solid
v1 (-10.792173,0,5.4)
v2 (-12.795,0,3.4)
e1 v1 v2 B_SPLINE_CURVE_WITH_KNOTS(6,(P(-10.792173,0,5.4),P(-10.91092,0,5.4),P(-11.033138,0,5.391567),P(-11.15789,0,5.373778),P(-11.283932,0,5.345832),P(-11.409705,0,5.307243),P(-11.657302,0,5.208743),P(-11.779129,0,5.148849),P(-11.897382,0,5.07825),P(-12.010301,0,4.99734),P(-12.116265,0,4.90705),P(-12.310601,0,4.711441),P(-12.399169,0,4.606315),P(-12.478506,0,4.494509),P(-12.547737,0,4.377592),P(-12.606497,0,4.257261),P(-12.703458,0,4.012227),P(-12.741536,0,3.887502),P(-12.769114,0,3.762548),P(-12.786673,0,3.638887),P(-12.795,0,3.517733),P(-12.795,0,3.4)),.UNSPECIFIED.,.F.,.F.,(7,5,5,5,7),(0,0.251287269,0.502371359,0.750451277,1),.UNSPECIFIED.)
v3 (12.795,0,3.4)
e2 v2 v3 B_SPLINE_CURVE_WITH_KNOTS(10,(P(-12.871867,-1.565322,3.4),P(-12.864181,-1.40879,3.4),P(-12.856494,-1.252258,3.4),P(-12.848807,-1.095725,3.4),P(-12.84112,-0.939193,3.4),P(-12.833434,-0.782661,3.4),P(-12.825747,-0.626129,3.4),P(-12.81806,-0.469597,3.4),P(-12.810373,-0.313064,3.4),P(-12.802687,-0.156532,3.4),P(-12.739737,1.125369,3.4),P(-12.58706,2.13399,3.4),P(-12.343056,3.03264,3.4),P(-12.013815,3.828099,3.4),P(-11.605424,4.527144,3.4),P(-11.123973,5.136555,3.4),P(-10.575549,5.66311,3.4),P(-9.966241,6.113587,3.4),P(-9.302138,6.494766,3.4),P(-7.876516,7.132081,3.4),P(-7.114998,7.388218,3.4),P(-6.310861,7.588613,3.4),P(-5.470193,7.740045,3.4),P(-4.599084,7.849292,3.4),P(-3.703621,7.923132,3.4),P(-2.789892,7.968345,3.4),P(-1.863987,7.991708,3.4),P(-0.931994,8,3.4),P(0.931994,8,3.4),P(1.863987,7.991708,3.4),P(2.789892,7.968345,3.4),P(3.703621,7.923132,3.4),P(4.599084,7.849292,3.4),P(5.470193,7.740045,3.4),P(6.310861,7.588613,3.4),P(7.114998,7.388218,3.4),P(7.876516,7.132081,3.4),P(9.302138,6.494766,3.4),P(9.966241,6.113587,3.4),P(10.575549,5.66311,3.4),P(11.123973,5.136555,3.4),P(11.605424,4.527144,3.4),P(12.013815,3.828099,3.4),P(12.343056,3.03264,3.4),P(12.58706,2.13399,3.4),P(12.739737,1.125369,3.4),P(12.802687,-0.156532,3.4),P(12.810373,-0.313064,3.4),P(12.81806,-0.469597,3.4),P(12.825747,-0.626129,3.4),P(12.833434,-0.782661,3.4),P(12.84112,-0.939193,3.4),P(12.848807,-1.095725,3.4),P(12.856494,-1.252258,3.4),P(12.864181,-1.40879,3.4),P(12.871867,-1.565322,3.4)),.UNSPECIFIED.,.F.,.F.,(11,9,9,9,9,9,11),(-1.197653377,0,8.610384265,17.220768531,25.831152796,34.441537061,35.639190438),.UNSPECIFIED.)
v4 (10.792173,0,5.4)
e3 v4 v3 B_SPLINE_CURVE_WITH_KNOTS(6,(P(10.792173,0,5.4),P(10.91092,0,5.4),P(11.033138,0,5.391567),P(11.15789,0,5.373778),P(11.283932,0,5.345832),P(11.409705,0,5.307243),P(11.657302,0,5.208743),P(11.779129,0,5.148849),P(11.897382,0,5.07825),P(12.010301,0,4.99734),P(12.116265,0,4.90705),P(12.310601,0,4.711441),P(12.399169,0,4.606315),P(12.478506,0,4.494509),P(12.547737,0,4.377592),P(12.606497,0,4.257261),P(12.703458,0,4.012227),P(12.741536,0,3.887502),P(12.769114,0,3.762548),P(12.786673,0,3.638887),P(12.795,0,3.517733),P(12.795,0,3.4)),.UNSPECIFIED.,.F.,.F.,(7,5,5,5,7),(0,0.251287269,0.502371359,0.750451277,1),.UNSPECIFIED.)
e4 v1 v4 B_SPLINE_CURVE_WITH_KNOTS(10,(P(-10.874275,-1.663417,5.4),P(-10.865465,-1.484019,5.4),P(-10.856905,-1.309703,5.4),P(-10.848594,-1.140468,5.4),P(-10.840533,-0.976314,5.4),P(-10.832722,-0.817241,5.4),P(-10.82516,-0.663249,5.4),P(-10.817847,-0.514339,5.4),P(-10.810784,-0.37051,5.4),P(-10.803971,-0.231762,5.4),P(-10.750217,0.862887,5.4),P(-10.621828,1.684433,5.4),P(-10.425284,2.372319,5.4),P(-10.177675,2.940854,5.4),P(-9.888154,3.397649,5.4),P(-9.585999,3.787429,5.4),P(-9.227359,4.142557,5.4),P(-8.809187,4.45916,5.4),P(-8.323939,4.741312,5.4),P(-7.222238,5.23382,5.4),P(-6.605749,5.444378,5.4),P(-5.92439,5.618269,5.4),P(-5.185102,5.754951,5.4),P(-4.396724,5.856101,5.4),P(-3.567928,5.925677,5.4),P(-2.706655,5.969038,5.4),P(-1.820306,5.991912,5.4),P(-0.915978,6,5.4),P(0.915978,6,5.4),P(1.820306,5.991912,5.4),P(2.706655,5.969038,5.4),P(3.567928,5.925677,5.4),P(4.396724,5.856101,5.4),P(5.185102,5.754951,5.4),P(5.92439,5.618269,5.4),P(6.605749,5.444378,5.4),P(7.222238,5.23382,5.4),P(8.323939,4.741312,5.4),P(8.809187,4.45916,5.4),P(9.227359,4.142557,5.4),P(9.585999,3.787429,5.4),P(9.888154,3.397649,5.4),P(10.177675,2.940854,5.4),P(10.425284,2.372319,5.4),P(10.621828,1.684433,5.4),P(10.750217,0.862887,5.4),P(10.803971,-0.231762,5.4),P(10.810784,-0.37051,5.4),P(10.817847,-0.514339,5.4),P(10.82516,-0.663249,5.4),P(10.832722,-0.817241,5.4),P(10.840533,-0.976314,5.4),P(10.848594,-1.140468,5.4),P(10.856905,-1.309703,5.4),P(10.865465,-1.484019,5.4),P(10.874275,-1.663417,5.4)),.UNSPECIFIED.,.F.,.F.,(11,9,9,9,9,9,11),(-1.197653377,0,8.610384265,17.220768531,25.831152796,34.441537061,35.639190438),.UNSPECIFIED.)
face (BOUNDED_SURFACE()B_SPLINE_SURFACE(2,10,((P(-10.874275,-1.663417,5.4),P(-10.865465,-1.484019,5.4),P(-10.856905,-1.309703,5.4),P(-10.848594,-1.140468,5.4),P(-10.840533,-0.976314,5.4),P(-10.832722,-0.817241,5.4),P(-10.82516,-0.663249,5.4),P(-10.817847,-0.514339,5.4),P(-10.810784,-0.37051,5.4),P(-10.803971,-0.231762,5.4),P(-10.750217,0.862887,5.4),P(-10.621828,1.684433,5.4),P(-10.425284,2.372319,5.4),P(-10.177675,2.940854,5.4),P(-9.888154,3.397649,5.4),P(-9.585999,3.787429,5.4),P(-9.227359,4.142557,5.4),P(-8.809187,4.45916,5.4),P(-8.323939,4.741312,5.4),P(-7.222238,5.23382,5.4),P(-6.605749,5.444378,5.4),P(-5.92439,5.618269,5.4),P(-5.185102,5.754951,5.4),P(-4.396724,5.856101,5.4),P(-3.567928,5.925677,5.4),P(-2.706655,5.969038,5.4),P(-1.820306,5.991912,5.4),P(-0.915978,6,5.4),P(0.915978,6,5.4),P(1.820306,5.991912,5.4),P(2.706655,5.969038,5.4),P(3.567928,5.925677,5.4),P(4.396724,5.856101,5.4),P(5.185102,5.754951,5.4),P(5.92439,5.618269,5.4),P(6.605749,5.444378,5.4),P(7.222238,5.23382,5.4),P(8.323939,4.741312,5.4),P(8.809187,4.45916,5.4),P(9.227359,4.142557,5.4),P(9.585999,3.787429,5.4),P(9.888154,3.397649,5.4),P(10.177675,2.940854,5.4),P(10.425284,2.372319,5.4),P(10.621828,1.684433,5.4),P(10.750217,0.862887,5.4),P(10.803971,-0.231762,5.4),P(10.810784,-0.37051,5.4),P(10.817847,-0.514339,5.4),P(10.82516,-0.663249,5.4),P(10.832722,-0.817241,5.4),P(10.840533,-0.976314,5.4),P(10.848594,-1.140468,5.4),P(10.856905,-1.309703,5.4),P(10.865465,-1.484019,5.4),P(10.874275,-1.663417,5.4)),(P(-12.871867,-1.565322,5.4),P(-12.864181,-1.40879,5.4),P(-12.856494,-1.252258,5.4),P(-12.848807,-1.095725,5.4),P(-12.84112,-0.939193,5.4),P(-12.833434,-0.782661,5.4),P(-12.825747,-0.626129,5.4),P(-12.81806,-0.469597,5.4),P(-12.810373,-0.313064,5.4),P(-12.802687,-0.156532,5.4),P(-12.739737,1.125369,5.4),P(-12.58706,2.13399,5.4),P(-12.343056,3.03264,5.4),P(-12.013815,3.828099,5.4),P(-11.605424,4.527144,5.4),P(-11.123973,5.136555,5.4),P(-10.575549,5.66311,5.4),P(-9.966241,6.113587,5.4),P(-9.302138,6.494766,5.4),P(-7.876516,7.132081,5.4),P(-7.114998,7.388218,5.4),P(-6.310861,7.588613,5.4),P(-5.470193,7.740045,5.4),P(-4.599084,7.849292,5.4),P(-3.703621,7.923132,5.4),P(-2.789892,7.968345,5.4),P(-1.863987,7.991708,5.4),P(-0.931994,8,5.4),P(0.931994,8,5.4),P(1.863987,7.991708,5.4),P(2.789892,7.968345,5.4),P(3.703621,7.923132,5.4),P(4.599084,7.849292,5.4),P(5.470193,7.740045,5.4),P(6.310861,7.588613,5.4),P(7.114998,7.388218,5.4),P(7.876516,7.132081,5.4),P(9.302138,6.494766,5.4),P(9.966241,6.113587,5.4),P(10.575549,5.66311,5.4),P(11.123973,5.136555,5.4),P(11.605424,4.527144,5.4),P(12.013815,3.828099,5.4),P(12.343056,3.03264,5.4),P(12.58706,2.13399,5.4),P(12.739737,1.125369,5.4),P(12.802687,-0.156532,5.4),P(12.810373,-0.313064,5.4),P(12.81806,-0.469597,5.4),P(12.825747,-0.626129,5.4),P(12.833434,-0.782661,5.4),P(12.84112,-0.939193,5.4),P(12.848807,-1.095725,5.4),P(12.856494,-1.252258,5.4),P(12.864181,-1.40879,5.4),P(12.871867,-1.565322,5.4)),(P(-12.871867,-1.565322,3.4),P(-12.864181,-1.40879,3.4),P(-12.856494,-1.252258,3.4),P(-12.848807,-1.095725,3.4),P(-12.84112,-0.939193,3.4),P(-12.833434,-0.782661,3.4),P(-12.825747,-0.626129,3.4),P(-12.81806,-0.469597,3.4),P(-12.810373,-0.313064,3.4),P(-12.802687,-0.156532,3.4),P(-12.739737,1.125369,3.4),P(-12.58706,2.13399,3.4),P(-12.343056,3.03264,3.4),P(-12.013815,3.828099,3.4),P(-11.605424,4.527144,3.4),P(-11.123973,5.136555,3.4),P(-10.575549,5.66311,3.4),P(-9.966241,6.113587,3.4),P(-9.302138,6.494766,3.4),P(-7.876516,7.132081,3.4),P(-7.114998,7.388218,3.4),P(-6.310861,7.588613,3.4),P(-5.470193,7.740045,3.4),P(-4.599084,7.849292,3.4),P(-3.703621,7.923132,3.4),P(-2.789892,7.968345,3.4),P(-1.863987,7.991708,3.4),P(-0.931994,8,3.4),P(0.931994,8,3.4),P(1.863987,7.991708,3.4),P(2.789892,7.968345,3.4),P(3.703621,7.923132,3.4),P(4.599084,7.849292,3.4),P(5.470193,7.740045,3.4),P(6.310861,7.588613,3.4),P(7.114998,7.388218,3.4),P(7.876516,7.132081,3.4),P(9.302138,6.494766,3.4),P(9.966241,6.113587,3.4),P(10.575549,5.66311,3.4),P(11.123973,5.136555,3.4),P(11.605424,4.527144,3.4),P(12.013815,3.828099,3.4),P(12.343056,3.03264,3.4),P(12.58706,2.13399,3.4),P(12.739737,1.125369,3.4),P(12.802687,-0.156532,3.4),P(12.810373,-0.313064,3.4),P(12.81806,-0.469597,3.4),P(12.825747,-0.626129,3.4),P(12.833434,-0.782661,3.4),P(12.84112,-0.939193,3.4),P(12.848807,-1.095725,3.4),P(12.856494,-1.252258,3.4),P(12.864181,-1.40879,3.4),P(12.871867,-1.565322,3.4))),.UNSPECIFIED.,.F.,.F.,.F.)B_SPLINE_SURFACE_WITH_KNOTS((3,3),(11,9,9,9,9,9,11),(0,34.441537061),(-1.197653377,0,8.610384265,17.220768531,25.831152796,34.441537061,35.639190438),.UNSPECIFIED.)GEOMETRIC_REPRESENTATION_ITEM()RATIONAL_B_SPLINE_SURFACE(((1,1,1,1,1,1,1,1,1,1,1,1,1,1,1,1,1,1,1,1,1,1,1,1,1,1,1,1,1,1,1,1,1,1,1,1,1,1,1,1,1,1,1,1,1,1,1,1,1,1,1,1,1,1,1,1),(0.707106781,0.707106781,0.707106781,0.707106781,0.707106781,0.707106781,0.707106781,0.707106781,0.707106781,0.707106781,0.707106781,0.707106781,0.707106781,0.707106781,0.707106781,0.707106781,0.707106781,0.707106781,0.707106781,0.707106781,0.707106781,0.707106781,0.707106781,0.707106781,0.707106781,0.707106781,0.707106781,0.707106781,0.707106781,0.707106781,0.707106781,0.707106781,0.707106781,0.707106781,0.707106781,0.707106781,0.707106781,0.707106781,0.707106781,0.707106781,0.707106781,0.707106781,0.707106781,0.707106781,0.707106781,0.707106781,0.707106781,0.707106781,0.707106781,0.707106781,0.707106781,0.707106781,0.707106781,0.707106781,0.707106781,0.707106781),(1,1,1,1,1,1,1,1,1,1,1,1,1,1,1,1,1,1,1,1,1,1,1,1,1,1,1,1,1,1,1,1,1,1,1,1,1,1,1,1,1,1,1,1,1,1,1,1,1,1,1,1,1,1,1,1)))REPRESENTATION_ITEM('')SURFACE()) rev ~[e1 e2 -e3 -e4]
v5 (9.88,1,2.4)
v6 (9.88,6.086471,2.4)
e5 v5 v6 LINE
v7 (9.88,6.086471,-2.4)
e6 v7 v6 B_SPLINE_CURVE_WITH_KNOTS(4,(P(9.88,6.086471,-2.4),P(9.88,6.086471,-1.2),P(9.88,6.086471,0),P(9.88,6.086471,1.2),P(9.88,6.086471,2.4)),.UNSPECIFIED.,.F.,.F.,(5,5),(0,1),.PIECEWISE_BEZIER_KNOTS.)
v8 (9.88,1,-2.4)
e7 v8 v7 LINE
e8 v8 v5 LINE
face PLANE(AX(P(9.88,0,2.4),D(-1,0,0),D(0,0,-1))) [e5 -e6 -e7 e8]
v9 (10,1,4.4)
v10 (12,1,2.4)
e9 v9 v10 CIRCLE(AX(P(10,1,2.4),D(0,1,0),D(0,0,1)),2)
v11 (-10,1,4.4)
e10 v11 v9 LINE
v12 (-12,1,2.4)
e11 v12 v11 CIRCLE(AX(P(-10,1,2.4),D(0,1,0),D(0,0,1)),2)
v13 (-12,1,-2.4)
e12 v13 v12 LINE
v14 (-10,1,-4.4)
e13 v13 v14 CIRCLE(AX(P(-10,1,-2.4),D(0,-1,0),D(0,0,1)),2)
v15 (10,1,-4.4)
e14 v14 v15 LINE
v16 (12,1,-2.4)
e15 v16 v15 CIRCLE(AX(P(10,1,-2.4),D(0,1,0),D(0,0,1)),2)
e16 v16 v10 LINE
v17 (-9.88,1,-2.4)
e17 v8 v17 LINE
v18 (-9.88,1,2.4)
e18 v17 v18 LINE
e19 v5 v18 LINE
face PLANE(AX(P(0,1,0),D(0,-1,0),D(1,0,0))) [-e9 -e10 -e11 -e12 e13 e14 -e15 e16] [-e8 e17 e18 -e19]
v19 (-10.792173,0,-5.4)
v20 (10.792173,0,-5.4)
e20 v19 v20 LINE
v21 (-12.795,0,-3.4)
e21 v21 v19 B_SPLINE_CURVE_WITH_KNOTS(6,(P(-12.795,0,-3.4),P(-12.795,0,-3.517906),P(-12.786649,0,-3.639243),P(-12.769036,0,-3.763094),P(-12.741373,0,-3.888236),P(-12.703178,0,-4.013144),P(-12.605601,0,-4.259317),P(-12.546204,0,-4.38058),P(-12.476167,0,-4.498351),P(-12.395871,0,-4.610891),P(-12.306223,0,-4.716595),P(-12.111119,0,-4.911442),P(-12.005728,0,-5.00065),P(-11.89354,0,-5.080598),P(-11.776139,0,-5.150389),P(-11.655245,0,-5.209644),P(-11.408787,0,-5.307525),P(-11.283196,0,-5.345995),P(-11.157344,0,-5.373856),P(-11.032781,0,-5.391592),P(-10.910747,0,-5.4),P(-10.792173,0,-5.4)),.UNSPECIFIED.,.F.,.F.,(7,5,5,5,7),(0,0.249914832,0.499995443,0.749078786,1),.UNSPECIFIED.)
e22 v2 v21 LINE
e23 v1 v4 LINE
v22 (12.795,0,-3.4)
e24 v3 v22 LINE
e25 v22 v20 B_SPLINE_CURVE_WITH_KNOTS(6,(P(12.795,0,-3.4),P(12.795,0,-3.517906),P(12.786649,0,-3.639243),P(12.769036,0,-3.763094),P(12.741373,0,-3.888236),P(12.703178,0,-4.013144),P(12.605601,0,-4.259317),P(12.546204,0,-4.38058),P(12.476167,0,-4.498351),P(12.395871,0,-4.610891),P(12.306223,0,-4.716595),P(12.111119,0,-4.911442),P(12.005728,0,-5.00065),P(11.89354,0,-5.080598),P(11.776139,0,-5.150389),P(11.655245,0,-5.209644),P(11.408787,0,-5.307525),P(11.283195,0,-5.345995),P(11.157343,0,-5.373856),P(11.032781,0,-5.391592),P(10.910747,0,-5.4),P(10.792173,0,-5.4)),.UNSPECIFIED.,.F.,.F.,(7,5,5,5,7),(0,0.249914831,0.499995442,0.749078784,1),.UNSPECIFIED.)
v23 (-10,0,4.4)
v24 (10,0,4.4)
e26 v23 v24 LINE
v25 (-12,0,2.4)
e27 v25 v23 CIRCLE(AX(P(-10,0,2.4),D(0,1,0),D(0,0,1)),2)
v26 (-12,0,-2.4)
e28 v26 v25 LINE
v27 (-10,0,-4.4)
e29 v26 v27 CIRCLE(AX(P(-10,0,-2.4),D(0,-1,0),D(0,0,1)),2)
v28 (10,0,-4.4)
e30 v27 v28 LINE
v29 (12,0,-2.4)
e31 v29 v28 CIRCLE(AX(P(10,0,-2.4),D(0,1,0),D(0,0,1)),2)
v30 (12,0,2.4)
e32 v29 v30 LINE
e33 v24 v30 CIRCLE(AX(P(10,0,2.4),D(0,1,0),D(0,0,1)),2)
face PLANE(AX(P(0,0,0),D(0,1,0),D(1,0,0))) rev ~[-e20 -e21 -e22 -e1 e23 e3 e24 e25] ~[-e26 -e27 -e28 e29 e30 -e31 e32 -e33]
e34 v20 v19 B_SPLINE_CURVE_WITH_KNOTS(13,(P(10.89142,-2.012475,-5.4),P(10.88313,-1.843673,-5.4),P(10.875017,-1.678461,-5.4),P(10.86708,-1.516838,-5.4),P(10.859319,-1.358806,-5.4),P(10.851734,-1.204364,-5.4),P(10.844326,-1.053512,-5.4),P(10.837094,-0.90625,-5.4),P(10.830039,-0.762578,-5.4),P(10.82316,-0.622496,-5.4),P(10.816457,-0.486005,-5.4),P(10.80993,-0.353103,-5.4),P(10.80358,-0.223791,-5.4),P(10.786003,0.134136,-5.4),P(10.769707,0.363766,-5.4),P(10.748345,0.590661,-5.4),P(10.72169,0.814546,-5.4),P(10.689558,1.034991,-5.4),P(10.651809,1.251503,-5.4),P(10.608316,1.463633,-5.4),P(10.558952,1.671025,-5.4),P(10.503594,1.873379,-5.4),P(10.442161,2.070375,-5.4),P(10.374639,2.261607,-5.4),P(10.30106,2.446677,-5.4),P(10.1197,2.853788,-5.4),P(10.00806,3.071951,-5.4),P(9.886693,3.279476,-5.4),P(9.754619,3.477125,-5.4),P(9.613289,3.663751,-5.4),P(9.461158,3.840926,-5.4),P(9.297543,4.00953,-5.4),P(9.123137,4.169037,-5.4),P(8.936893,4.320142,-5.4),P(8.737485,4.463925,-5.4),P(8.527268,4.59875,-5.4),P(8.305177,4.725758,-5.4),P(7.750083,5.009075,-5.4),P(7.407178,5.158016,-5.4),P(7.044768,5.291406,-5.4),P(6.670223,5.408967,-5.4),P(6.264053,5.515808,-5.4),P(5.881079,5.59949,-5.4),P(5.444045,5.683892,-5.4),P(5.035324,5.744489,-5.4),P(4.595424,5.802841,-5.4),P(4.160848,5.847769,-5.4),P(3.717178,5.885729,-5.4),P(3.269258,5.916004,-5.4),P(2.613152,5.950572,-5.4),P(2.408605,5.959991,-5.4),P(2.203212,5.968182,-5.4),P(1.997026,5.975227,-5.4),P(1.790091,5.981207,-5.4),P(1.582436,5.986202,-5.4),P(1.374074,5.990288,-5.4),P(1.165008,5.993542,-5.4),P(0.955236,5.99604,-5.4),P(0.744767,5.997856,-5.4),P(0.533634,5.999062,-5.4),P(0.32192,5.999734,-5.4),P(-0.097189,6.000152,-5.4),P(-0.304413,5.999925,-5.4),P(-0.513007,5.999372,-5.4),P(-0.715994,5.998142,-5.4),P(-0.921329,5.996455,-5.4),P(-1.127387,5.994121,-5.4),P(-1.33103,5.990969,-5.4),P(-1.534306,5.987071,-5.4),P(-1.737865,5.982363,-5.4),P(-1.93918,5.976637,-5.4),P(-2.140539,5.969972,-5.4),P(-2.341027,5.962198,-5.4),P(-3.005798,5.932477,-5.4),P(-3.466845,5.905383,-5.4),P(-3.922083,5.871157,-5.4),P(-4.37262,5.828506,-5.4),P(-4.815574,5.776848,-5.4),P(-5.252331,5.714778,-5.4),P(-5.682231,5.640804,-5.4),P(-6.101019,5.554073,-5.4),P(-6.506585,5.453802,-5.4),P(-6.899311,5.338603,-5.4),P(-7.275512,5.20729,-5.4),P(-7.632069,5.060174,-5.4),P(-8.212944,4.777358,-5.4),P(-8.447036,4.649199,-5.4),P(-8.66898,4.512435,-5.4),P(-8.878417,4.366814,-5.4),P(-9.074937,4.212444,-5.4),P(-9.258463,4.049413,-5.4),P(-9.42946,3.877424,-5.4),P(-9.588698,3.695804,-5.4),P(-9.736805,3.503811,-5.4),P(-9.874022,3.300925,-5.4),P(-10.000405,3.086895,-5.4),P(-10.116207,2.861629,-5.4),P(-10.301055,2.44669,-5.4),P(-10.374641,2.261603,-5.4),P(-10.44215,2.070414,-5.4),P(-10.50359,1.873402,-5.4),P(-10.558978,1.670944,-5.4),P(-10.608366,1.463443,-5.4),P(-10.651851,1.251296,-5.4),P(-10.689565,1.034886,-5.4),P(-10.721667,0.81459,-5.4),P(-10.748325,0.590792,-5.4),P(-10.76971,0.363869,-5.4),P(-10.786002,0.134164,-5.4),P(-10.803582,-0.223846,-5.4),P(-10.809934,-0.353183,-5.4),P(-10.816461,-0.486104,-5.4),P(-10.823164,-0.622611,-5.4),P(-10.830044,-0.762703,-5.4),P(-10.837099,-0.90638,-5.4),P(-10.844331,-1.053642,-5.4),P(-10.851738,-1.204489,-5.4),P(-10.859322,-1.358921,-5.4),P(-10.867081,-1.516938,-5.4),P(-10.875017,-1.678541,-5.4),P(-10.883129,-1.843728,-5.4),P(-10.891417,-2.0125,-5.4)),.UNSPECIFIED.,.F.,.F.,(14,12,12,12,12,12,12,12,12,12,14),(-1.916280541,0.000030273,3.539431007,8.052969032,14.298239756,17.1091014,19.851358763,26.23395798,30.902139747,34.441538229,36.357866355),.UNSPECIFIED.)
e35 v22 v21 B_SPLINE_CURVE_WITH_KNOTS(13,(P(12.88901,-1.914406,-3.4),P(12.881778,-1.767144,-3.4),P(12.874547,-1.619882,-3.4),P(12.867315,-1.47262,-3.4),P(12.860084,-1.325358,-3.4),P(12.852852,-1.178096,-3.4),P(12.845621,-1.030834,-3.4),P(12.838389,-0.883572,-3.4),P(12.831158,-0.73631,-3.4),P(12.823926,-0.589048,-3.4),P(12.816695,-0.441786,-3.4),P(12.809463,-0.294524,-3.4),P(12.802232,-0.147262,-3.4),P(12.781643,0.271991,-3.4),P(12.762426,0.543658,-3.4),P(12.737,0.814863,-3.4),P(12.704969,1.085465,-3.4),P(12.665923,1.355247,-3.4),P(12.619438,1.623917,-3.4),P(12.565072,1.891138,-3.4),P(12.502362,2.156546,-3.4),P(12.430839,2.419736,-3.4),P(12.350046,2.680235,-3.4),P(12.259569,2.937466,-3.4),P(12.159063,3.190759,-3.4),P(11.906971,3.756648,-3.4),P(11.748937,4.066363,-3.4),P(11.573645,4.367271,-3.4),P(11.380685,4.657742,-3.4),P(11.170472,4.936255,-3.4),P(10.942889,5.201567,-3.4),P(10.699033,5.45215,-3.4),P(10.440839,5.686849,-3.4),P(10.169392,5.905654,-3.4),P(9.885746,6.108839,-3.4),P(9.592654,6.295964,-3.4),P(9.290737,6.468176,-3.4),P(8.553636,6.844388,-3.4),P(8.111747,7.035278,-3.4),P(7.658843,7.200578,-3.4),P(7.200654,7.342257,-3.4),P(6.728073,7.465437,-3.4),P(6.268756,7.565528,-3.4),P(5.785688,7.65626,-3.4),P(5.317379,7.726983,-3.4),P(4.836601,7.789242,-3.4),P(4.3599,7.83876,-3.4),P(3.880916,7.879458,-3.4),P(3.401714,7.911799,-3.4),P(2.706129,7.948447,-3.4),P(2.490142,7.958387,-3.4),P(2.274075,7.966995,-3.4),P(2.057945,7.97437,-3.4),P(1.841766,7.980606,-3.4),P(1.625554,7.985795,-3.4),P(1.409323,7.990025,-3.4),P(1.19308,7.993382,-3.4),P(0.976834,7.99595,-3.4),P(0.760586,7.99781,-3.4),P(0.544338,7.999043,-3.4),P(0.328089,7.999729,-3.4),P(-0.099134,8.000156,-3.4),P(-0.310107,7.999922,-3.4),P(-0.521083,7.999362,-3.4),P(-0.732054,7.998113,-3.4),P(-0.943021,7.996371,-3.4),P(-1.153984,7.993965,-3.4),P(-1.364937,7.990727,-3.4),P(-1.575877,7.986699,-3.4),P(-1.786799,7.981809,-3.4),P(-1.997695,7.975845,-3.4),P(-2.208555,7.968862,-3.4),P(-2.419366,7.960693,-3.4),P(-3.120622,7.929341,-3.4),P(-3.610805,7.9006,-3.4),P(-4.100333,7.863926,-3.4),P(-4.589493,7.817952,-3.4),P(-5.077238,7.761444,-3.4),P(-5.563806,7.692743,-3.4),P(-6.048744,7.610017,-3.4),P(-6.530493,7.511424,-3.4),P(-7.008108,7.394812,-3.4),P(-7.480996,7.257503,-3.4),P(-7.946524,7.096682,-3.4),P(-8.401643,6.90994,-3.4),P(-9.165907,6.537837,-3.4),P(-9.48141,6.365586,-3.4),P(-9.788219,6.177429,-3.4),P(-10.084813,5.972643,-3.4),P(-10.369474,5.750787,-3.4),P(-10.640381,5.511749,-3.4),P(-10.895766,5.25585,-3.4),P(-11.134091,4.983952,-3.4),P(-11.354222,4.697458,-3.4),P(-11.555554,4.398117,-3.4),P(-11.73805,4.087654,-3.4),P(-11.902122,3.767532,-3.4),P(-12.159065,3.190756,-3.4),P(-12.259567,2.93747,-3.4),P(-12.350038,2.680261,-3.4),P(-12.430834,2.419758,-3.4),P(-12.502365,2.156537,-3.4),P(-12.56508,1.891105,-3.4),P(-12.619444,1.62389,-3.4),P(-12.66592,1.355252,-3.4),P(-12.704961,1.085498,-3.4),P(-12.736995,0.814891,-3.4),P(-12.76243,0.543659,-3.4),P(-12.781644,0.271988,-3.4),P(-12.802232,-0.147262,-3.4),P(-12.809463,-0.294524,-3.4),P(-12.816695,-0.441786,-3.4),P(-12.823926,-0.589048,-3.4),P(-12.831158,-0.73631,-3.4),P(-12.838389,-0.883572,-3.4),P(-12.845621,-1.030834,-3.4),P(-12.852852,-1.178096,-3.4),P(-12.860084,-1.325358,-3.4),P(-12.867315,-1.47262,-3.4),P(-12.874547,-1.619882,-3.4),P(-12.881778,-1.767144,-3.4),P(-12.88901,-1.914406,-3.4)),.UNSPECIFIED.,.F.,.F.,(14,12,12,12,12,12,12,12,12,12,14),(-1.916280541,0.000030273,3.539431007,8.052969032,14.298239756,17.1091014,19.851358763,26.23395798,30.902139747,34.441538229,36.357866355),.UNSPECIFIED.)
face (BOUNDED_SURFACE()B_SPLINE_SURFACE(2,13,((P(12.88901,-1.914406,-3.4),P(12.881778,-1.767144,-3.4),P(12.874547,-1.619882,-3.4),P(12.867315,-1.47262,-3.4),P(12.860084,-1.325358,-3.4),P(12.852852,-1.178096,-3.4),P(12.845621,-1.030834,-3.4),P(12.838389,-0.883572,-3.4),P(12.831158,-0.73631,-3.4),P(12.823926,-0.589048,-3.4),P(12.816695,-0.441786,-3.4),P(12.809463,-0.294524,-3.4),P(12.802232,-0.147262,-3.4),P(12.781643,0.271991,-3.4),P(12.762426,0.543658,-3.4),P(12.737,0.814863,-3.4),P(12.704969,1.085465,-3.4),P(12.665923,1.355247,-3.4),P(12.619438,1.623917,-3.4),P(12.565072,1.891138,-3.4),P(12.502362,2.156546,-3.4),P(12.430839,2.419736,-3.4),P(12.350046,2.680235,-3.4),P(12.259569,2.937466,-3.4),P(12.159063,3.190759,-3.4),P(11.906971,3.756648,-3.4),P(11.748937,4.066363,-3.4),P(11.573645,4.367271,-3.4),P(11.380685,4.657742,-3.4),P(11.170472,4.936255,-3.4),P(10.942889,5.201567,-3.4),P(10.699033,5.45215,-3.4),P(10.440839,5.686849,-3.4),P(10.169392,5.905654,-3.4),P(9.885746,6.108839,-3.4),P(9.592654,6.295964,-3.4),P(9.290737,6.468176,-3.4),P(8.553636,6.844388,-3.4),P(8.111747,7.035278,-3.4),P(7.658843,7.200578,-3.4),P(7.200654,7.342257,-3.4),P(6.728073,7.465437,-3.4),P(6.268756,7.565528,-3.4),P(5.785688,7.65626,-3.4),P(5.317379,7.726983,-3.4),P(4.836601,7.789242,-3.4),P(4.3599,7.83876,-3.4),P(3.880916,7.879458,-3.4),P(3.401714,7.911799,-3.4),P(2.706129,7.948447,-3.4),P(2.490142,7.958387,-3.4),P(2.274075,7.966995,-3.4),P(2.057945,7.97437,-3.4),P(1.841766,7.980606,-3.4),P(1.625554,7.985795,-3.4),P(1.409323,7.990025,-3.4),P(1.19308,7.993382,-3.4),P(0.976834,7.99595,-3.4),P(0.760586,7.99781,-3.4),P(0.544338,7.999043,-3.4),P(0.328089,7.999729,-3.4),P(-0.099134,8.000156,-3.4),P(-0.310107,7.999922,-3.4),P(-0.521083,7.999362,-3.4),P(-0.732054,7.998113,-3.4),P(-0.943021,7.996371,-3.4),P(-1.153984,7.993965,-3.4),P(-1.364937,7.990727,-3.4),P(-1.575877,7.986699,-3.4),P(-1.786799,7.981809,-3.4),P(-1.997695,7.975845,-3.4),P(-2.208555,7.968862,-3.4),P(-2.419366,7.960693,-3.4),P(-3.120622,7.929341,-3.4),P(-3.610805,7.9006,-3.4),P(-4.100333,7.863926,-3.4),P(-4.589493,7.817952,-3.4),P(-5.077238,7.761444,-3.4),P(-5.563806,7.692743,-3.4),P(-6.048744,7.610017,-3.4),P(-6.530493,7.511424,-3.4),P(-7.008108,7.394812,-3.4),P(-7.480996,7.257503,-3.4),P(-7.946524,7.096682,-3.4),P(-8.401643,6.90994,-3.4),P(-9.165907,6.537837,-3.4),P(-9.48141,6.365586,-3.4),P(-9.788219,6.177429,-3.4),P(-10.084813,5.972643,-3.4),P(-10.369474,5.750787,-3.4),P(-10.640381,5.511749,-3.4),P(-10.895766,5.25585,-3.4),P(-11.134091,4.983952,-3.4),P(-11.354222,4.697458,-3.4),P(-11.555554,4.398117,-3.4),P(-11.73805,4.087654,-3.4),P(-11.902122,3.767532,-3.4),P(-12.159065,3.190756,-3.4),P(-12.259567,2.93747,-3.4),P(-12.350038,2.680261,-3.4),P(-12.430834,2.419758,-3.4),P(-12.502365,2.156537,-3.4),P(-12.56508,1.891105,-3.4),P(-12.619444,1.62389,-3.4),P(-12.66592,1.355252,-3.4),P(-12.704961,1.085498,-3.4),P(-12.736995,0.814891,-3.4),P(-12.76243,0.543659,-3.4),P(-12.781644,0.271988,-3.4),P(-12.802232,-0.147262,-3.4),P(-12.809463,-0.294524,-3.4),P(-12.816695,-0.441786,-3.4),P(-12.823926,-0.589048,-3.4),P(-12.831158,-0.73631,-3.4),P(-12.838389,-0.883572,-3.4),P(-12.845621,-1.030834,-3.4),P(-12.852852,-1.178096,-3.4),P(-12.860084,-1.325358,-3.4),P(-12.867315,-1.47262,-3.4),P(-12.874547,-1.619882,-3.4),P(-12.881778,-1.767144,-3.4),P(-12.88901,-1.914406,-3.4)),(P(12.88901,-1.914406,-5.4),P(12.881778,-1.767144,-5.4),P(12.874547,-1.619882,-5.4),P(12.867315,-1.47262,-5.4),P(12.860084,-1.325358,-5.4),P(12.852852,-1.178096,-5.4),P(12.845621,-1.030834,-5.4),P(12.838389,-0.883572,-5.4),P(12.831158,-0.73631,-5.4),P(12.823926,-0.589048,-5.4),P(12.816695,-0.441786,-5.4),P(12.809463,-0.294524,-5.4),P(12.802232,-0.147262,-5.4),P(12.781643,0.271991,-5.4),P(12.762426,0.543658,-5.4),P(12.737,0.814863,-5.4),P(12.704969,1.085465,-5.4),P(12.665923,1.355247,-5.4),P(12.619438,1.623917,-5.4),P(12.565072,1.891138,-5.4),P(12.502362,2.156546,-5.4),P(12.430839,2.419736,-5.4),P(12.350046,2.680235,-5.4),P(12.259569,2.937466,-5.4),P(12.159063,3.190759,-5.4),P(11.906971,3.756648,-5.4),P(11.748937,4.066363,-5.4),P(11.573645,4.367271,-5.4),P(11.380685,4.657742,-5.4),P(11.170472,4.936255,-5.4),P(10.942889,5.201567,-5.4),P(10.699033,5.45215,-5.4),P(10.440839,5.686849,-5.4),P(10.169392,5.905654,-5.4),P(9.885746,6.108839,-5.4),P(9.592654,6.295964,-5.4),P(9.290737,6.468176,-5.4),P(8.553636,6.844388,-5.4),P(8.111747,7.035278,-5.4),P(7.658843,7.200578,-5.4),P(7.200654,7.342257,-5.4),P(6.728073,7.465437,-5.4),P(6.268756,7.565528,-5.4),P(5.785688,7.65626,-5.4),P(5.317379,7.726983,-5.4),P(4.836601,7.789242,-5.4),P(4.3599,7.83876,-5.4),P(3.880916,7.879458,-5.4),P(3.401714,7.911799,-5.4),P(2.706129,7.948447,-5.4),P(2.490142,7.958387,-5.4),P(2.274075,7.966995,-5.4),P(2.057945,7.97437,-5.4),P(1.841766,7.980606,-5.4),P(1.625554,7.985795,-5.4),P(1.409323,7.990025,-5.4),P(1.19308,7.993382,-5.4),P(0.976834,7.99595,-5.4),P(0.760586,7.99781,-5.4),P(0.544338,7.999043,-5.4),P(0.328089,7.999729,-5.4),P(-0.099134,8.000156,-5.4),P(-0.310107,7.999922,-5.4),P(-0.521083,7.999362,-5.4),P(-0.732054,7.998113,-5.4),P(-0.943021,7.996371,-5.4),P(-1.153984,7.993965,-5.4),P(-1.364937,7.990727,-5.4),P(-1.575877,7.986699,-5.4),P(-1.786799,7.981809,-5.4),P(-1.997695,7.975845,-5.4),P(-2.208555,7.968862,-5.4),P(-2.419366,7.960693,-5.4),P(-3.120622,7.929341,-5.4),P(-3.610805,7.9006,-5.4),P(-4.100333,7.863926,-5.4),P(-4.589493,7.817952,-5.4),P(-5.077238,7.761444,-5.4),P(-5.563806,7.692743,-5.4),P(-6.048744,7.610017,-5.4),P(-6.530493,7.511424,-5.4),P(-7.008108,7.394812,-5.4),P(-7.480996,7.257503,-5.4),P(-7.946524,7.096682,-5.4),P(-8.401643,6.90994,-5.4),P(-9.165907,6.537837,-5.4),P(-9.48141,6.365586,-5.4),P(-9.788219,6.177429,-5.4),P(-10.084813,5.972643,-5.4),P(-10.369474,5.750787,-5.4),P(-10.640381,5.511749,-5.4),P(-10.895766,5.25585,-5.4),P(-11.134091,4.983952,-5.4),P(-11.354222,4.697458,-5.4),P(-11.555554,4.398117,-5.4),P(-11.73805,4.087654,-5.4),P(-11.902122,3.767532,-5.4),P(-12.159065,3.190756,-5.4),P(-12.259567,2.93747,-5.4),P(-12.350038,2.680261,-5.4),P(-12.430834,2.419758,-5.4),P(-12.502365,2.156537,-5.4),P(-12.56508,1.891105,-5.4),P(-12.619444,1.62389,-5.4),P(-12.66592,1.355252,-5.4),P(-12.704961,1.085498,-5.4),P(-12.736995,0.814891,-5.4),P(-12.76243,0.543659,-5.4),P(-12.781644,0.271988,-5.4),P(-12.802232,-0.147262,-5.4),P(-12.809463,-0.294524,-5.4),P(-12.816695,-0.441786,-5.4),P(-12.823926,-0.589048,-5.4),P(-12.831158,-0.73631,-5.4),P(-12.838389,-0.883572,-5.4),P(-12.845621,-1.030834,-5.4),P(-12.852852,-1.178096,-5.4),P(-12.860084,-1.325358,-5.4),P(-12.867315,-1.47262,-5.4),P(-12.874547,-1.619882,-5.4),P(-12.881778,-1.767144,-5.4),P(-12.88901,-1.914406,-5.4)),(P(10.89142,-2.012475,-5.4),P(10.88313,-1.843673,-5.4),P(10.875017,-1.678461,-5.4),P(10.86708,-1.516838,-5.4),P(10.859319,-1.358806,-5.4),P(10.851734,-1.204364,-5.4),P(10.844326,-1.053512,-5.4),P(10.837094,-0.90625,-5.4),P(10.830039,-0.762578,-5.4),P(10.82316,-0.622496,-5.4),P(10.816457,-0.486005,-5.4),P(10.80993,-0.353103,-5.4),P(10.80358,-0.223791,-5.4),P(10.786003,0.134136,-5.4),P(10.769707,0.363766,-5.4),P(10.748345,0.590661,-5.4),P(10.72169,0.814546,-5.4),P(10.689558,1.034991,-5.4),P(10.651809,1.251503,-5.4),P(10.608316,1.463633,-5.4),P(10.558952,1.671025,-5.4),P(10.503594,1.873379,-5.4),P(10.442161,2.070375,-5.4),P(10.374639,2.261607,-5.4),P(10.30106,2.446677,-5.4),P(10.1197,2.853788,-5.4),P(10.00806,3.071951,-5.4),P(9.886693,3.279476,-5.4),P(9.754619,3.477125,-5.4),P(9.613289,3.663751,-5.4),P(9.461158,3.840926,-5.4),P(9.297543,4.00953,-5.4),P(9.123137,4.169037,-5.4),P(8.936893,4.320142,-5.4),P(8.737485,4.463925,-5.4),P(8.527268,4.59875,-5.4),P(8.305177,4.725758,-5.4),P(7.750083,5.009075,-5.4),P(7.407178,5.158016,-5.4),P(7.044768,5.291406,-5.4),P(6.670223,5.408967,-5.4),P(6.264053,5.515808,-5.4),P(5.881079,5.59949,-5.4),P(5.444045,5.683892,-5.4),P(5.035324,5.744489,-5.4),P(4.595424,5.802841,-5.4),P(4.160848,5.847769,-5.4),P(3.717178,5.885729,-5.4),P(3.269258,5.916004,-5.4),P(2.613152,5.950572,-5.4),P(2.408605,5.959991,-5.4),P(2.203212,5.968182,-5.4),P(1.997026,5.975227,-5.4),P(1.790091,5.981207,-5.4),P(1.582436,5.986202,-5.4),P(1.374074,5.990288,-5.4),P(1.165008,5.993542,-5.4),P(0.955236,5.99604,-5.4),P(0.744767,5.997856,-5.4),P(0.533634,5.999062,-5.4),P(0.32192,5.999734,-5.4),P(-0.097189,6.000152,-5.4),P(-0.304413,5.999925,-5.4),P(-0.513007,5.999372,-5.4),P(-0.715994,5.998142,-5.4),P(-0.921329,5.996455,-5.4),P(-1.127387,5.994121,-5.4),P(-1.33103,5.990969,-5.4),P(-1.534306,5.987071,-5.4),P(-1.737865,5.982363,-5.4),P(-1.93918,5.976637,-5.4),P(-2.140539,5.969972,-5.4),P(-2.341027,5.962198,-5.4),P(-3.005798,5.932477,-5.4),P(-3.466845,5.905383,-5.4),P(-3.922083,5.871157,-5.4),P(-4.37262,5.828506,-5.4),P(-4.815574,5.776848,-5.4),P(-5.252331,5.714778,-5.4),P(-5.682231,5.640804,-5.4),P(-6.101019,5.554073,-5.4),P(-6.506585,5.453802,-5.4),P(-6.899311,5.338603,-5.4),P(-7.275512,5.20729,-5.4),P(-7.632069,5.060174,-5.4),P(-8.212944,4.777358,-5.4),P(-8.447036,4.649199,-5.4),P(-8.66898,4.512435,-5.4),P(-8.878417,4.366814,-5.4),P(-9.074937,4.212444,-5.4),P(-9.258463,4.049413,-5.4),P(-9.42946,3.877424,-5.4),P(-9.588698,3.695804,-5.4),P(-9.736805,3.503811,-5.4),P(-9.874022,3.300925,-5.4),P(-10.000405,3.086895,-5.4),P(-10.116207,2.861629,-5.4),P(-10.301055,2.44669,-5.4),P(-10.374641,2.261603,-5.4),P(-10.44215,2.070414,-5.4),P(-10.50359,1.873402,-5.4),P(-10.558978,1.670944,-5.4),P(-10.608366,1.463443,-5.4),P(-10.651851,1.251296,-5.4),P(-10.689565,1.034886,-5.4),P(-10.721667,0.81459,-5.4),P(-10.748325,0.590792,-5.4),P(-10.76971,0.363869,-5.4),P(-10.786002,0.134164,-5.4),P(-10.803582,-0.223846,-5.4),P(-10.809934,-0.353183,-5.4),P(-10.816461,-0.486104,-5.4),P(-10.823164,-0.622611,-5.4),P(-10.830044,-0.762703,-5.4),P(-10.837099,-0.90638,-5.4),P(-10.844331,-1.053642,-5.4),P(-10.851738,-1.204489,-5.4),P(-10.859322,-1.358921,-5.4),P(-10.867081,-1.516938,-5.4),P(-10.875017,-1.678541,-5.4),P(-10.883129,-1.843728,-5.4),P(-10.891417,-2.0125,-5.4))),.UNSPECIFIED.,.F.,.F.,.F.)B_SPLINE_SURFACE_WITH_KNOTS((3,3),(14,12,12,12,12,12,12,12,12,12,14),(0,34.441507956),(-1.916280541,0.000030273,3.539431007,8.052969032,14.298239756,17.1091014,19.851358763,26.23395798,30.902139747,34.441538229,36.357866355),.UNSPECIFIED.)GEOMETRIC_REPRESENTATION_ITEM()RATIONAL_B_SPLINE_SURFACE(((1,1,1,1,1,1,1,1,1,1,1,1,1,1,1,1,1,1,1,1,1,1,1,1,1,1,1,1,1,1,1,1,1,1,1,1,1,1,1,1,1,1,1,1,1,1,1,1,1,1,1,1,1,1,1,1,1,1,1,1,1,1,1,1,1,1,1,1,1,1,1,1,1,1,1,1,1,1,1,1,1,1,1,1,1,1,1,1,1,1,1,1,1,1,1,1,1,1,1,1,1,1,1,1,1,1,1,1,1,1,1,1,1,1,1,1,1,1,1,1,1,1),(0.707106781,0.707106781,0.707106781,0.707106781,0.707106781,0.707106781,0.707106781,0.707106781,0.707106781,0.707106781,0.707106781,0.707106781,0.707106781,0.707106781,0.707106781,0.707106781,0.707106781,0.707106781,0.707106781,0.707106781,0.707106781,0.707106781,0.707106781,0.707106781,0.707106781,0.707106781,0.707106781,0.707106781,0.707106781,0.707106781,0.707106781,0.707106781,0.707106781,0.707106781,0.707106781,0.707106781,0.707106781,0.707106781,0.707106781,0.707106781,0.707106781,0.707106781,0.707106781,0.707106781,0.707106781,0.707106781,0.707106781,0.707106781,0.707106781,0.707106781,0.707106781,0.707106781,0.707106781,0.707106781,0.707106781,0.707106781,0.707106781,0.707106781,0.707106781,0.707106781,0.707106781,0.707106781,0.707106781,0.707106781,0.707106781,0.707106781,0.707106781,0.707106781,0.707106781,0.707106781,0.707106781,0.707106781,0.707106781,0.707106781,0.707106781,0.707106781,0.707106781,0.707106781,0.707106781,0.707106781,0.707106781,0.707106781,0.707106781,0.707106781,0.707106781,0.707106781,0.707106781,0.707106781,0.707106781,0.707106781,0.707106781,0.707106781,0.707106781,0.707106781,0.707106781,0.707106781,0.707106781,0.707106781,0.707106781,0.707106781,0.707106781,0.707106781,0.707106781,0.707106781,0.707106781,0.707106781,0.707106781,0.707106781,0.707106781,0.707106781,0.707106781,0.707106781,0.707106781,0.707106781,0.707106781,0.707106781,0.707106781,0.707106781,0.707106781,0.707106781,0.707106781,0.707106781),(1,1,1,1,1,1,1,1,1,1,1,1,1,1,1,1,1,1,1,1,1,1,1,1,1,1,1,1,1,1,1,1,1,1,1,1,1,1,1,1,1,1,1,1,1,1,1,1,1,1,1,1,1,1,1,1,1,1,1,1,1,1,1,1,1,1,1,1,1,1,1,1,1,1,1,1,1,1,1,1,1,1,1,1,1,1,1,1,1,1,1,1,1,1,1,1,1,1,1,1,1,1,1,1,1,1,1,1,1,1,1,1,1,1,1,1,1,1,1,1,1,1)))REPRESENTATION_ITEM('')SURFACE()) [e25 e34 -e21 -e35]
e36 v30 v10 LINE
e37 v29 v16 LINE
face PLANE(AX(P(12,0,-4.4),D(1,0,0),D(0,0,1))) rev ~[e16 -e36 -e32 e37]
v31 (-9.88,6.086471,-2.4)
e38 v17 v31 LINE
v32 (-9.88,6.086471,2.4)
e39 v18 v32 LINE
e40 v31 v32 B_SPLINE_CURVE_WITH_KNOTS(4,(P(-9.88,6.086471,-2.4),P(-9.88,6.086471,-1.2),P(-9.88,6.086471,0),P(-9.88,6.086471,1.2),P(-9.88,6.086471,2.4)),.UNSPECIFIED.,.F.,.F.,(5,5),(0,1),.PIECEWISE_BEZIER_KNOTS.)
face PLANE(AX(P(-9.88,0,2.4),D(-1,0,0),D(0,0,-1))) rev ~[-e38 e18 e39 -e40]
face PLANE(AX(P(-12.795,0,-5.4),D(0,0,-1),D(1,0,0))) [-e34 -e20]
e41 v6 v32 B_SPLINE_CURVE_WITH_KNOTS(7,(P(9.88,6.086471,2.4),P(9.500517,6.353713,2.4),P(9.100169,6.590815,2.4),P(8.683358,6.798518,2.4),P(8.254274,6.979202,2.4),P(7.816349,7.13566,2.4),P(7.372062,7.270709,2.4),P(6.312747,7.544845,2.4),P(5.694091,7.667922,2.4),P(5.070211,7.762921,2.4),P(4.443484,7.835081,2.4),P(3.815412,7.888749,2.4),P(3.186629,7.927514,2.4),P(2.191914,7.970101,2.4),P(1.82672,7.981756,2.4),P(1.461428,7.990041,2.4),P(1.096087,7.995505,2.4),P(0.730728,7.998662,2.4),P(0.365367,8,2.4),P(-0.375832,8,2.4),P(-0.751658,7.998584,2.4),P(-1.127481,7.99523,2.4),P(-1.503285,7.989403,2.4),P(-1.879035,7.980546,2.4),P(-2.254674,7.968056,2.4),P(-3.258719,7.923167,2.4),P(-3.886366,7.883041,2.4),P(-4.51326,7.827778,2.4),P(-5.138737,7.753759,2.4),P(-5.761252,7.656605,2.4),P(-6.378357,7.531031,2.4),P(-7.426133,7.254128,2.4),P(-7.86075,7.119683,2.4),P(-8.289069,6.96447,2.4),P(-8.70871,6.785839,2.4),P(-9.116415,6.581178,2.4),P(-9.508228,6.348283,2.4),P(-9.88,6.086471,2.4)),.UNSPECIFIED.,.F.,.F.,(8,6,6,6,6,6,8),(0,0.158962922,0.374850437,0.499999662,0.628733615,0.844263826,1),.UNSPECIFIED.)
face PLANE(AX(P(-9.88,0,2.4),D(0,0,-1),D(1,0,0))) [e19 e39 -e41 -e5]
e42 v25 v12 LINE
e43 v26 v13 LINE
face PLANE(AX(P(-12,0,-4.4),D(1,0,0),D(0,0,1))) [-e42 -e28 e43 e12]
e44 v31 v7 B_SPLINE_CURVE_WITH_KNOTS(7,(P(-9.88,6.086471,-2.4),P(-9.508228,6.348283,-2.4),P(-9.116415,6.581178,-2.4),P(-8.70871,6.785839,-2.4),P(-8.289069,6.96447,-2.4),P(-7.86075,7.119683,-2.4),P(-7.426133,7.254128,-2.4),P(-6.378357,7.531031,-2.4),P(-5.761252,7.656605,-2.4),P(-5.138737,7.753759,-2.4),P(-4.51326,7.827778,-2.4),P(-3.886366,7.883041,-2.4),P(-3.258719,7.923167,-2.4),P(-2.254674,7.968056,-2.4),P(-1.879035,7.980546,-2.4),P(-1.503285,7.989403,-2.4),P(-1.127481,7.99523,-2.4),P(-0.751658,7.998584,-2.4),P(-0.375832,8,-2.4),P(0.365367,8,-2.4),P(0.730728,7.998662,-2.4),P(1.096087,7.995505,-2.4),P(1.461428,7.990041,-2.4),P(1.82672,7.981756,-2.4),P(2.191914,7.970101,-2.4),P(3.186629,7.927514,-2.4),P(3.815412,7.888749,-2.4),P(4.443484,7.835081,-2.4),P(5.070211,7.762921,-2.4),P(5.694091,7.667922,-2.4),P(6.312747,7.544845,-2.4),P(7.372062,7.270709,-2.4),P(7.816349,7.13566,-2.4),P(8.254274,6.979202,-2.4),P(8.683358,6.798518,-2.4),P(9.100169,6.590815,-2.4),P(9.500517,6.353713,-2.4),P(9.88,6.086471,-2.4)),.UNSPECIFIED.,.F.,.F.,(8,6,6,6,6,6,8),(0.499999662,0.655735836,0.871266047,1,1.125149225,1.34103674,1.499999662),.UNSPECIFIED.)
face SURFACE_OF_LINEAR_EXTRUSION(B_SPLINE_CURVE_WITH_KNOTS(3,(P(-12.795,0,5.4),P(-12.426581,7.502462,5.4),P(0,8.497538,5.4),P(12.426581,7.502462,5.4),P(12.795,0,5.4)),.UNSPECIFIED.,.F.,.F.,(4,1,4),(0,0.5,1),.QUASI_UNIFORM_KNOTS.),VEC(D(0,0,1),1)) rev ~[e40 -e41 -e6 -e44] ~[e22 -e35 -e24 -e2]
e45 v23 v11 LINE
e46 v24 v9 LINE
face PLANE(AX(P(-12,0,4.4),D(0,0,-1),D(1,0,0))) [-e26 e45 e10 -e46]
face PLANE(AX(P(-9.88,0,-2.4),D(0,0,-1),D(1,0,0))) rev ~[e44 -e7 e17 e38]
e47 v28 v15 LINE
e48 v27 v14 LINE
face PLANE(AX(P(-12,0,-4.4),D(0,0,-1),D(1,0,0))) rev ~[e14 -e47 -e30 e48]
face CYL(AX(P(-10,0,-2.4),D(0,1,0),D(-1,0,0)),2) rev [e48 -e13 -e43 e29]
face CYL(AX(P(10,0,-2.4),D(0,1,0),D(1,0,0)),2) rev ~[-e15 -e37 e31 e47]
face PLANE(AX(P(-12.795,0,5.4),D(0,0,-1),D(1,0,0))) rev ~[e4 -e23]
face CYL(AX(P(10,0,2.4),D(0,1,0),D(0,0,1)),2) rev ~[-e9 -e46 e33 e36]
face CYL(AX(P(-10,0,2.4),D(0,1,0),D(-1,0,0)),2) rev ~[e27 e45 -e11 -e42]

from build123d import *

# Parameters (mm, degrees)
SKETCH1_W           = 25.59
SKETCH1_H           = 10.8
SKETCH1_W_2         = 19.76
SKETCH1_H_2         = 4.8
BOSS_EXTRUDE1_DEPTH = 8
CUT_EXTRUDE3_DEPTH  = 11.8
FILLET2_R           = 2
FILLET3_R           = 2
SKETCH3_W           = 24
SKETCH3_H           = 8.8
CUT_EXTRUDE2_DEPTH  = 1
FILLET4_R           = 2


with BuildPart() as part:
    # Sketch1 → Boss-Extrude1 (new body)
    with BuildSketch(Plane(origin=(0, 0, 0), x_dir=(1, 0, 0), z_dir=(0, 1, 0))):
        Rectangle(SKETCH1_W, SKETCH1_H)
        Rectangle(SKETCH1_W_2, SKETCH1_H_2, mode=Mode.SUBTRACT)
    extrude(amount=BOSS_EXTRUDE1_DEPTH)

    # Sketch4 → Cut-Extrude3 (cut, through all)
    with BuildSketch(Plane.XY.offset(5.4)):
        with BuildLine():
            Line((-12.795, 0), (-12.795, 9.131507451))
            Line((-12.795, 9.131507451), (12.795, 9.131507451))
            Line((12.795, 9.131507451), (12.795, 0))
            add(Edge.make_bspline(
                [(-12.795, 0), (-12.426580691, 7.502461836), (0, 8.497538164), (12.426580691, 7.502461836), (12.795, 0)],
                knots=[0, 0, 0, 0, 0.5, 1, 1, 1, 1], degree=3))
        make_face()
    extrude(amount=-CUT_EXTRUDE3_DEPTH, mode=Mode.SUBTRACT)

    # Fillet2
    fillet2_edges = [part.edges().sort_by_distance(p)[0] for p in [
        (8.47733972, 6.862563229, 5.4),
        (-8.477340259, 6.862562997, 5.4),
    ]]
    fillet(fillet2_edges, radius=FILLET2_R)

    # Fillet3
    fillet3_edges = [part.edges().sort_by_distance(p)[0] for p in [
        (8.47734001, 6.862563107, -5.4),
        (-8.477339964, 6.862563119, -5.4),
    ]]
    fillet(fillet3_edges, radius=FILLET3_R)

    # Sketch3 → Cut-Extrude2 (cut)
    with BuildSketch(Plane.XZ):
        Rectangle(SKETCH3_W, SKETCH3_H)
    extrude(amount=-CUT_EXTRUDE2_DEPTH, mode=Mode.SUBTRACT)

    # Fillet4
    fillet4_edges = [part.edges().sort_by_distance(p)[0] for p in [
        (12, 0.5, 4.4),
        (12, 0.5, -4.4),
        (-12, 0.5, -4.4),
        (-12, 0.5, 4.4),
    ]]
    fillet(fillet4_edges, radius=FILLET4_R)


solid = part.part
